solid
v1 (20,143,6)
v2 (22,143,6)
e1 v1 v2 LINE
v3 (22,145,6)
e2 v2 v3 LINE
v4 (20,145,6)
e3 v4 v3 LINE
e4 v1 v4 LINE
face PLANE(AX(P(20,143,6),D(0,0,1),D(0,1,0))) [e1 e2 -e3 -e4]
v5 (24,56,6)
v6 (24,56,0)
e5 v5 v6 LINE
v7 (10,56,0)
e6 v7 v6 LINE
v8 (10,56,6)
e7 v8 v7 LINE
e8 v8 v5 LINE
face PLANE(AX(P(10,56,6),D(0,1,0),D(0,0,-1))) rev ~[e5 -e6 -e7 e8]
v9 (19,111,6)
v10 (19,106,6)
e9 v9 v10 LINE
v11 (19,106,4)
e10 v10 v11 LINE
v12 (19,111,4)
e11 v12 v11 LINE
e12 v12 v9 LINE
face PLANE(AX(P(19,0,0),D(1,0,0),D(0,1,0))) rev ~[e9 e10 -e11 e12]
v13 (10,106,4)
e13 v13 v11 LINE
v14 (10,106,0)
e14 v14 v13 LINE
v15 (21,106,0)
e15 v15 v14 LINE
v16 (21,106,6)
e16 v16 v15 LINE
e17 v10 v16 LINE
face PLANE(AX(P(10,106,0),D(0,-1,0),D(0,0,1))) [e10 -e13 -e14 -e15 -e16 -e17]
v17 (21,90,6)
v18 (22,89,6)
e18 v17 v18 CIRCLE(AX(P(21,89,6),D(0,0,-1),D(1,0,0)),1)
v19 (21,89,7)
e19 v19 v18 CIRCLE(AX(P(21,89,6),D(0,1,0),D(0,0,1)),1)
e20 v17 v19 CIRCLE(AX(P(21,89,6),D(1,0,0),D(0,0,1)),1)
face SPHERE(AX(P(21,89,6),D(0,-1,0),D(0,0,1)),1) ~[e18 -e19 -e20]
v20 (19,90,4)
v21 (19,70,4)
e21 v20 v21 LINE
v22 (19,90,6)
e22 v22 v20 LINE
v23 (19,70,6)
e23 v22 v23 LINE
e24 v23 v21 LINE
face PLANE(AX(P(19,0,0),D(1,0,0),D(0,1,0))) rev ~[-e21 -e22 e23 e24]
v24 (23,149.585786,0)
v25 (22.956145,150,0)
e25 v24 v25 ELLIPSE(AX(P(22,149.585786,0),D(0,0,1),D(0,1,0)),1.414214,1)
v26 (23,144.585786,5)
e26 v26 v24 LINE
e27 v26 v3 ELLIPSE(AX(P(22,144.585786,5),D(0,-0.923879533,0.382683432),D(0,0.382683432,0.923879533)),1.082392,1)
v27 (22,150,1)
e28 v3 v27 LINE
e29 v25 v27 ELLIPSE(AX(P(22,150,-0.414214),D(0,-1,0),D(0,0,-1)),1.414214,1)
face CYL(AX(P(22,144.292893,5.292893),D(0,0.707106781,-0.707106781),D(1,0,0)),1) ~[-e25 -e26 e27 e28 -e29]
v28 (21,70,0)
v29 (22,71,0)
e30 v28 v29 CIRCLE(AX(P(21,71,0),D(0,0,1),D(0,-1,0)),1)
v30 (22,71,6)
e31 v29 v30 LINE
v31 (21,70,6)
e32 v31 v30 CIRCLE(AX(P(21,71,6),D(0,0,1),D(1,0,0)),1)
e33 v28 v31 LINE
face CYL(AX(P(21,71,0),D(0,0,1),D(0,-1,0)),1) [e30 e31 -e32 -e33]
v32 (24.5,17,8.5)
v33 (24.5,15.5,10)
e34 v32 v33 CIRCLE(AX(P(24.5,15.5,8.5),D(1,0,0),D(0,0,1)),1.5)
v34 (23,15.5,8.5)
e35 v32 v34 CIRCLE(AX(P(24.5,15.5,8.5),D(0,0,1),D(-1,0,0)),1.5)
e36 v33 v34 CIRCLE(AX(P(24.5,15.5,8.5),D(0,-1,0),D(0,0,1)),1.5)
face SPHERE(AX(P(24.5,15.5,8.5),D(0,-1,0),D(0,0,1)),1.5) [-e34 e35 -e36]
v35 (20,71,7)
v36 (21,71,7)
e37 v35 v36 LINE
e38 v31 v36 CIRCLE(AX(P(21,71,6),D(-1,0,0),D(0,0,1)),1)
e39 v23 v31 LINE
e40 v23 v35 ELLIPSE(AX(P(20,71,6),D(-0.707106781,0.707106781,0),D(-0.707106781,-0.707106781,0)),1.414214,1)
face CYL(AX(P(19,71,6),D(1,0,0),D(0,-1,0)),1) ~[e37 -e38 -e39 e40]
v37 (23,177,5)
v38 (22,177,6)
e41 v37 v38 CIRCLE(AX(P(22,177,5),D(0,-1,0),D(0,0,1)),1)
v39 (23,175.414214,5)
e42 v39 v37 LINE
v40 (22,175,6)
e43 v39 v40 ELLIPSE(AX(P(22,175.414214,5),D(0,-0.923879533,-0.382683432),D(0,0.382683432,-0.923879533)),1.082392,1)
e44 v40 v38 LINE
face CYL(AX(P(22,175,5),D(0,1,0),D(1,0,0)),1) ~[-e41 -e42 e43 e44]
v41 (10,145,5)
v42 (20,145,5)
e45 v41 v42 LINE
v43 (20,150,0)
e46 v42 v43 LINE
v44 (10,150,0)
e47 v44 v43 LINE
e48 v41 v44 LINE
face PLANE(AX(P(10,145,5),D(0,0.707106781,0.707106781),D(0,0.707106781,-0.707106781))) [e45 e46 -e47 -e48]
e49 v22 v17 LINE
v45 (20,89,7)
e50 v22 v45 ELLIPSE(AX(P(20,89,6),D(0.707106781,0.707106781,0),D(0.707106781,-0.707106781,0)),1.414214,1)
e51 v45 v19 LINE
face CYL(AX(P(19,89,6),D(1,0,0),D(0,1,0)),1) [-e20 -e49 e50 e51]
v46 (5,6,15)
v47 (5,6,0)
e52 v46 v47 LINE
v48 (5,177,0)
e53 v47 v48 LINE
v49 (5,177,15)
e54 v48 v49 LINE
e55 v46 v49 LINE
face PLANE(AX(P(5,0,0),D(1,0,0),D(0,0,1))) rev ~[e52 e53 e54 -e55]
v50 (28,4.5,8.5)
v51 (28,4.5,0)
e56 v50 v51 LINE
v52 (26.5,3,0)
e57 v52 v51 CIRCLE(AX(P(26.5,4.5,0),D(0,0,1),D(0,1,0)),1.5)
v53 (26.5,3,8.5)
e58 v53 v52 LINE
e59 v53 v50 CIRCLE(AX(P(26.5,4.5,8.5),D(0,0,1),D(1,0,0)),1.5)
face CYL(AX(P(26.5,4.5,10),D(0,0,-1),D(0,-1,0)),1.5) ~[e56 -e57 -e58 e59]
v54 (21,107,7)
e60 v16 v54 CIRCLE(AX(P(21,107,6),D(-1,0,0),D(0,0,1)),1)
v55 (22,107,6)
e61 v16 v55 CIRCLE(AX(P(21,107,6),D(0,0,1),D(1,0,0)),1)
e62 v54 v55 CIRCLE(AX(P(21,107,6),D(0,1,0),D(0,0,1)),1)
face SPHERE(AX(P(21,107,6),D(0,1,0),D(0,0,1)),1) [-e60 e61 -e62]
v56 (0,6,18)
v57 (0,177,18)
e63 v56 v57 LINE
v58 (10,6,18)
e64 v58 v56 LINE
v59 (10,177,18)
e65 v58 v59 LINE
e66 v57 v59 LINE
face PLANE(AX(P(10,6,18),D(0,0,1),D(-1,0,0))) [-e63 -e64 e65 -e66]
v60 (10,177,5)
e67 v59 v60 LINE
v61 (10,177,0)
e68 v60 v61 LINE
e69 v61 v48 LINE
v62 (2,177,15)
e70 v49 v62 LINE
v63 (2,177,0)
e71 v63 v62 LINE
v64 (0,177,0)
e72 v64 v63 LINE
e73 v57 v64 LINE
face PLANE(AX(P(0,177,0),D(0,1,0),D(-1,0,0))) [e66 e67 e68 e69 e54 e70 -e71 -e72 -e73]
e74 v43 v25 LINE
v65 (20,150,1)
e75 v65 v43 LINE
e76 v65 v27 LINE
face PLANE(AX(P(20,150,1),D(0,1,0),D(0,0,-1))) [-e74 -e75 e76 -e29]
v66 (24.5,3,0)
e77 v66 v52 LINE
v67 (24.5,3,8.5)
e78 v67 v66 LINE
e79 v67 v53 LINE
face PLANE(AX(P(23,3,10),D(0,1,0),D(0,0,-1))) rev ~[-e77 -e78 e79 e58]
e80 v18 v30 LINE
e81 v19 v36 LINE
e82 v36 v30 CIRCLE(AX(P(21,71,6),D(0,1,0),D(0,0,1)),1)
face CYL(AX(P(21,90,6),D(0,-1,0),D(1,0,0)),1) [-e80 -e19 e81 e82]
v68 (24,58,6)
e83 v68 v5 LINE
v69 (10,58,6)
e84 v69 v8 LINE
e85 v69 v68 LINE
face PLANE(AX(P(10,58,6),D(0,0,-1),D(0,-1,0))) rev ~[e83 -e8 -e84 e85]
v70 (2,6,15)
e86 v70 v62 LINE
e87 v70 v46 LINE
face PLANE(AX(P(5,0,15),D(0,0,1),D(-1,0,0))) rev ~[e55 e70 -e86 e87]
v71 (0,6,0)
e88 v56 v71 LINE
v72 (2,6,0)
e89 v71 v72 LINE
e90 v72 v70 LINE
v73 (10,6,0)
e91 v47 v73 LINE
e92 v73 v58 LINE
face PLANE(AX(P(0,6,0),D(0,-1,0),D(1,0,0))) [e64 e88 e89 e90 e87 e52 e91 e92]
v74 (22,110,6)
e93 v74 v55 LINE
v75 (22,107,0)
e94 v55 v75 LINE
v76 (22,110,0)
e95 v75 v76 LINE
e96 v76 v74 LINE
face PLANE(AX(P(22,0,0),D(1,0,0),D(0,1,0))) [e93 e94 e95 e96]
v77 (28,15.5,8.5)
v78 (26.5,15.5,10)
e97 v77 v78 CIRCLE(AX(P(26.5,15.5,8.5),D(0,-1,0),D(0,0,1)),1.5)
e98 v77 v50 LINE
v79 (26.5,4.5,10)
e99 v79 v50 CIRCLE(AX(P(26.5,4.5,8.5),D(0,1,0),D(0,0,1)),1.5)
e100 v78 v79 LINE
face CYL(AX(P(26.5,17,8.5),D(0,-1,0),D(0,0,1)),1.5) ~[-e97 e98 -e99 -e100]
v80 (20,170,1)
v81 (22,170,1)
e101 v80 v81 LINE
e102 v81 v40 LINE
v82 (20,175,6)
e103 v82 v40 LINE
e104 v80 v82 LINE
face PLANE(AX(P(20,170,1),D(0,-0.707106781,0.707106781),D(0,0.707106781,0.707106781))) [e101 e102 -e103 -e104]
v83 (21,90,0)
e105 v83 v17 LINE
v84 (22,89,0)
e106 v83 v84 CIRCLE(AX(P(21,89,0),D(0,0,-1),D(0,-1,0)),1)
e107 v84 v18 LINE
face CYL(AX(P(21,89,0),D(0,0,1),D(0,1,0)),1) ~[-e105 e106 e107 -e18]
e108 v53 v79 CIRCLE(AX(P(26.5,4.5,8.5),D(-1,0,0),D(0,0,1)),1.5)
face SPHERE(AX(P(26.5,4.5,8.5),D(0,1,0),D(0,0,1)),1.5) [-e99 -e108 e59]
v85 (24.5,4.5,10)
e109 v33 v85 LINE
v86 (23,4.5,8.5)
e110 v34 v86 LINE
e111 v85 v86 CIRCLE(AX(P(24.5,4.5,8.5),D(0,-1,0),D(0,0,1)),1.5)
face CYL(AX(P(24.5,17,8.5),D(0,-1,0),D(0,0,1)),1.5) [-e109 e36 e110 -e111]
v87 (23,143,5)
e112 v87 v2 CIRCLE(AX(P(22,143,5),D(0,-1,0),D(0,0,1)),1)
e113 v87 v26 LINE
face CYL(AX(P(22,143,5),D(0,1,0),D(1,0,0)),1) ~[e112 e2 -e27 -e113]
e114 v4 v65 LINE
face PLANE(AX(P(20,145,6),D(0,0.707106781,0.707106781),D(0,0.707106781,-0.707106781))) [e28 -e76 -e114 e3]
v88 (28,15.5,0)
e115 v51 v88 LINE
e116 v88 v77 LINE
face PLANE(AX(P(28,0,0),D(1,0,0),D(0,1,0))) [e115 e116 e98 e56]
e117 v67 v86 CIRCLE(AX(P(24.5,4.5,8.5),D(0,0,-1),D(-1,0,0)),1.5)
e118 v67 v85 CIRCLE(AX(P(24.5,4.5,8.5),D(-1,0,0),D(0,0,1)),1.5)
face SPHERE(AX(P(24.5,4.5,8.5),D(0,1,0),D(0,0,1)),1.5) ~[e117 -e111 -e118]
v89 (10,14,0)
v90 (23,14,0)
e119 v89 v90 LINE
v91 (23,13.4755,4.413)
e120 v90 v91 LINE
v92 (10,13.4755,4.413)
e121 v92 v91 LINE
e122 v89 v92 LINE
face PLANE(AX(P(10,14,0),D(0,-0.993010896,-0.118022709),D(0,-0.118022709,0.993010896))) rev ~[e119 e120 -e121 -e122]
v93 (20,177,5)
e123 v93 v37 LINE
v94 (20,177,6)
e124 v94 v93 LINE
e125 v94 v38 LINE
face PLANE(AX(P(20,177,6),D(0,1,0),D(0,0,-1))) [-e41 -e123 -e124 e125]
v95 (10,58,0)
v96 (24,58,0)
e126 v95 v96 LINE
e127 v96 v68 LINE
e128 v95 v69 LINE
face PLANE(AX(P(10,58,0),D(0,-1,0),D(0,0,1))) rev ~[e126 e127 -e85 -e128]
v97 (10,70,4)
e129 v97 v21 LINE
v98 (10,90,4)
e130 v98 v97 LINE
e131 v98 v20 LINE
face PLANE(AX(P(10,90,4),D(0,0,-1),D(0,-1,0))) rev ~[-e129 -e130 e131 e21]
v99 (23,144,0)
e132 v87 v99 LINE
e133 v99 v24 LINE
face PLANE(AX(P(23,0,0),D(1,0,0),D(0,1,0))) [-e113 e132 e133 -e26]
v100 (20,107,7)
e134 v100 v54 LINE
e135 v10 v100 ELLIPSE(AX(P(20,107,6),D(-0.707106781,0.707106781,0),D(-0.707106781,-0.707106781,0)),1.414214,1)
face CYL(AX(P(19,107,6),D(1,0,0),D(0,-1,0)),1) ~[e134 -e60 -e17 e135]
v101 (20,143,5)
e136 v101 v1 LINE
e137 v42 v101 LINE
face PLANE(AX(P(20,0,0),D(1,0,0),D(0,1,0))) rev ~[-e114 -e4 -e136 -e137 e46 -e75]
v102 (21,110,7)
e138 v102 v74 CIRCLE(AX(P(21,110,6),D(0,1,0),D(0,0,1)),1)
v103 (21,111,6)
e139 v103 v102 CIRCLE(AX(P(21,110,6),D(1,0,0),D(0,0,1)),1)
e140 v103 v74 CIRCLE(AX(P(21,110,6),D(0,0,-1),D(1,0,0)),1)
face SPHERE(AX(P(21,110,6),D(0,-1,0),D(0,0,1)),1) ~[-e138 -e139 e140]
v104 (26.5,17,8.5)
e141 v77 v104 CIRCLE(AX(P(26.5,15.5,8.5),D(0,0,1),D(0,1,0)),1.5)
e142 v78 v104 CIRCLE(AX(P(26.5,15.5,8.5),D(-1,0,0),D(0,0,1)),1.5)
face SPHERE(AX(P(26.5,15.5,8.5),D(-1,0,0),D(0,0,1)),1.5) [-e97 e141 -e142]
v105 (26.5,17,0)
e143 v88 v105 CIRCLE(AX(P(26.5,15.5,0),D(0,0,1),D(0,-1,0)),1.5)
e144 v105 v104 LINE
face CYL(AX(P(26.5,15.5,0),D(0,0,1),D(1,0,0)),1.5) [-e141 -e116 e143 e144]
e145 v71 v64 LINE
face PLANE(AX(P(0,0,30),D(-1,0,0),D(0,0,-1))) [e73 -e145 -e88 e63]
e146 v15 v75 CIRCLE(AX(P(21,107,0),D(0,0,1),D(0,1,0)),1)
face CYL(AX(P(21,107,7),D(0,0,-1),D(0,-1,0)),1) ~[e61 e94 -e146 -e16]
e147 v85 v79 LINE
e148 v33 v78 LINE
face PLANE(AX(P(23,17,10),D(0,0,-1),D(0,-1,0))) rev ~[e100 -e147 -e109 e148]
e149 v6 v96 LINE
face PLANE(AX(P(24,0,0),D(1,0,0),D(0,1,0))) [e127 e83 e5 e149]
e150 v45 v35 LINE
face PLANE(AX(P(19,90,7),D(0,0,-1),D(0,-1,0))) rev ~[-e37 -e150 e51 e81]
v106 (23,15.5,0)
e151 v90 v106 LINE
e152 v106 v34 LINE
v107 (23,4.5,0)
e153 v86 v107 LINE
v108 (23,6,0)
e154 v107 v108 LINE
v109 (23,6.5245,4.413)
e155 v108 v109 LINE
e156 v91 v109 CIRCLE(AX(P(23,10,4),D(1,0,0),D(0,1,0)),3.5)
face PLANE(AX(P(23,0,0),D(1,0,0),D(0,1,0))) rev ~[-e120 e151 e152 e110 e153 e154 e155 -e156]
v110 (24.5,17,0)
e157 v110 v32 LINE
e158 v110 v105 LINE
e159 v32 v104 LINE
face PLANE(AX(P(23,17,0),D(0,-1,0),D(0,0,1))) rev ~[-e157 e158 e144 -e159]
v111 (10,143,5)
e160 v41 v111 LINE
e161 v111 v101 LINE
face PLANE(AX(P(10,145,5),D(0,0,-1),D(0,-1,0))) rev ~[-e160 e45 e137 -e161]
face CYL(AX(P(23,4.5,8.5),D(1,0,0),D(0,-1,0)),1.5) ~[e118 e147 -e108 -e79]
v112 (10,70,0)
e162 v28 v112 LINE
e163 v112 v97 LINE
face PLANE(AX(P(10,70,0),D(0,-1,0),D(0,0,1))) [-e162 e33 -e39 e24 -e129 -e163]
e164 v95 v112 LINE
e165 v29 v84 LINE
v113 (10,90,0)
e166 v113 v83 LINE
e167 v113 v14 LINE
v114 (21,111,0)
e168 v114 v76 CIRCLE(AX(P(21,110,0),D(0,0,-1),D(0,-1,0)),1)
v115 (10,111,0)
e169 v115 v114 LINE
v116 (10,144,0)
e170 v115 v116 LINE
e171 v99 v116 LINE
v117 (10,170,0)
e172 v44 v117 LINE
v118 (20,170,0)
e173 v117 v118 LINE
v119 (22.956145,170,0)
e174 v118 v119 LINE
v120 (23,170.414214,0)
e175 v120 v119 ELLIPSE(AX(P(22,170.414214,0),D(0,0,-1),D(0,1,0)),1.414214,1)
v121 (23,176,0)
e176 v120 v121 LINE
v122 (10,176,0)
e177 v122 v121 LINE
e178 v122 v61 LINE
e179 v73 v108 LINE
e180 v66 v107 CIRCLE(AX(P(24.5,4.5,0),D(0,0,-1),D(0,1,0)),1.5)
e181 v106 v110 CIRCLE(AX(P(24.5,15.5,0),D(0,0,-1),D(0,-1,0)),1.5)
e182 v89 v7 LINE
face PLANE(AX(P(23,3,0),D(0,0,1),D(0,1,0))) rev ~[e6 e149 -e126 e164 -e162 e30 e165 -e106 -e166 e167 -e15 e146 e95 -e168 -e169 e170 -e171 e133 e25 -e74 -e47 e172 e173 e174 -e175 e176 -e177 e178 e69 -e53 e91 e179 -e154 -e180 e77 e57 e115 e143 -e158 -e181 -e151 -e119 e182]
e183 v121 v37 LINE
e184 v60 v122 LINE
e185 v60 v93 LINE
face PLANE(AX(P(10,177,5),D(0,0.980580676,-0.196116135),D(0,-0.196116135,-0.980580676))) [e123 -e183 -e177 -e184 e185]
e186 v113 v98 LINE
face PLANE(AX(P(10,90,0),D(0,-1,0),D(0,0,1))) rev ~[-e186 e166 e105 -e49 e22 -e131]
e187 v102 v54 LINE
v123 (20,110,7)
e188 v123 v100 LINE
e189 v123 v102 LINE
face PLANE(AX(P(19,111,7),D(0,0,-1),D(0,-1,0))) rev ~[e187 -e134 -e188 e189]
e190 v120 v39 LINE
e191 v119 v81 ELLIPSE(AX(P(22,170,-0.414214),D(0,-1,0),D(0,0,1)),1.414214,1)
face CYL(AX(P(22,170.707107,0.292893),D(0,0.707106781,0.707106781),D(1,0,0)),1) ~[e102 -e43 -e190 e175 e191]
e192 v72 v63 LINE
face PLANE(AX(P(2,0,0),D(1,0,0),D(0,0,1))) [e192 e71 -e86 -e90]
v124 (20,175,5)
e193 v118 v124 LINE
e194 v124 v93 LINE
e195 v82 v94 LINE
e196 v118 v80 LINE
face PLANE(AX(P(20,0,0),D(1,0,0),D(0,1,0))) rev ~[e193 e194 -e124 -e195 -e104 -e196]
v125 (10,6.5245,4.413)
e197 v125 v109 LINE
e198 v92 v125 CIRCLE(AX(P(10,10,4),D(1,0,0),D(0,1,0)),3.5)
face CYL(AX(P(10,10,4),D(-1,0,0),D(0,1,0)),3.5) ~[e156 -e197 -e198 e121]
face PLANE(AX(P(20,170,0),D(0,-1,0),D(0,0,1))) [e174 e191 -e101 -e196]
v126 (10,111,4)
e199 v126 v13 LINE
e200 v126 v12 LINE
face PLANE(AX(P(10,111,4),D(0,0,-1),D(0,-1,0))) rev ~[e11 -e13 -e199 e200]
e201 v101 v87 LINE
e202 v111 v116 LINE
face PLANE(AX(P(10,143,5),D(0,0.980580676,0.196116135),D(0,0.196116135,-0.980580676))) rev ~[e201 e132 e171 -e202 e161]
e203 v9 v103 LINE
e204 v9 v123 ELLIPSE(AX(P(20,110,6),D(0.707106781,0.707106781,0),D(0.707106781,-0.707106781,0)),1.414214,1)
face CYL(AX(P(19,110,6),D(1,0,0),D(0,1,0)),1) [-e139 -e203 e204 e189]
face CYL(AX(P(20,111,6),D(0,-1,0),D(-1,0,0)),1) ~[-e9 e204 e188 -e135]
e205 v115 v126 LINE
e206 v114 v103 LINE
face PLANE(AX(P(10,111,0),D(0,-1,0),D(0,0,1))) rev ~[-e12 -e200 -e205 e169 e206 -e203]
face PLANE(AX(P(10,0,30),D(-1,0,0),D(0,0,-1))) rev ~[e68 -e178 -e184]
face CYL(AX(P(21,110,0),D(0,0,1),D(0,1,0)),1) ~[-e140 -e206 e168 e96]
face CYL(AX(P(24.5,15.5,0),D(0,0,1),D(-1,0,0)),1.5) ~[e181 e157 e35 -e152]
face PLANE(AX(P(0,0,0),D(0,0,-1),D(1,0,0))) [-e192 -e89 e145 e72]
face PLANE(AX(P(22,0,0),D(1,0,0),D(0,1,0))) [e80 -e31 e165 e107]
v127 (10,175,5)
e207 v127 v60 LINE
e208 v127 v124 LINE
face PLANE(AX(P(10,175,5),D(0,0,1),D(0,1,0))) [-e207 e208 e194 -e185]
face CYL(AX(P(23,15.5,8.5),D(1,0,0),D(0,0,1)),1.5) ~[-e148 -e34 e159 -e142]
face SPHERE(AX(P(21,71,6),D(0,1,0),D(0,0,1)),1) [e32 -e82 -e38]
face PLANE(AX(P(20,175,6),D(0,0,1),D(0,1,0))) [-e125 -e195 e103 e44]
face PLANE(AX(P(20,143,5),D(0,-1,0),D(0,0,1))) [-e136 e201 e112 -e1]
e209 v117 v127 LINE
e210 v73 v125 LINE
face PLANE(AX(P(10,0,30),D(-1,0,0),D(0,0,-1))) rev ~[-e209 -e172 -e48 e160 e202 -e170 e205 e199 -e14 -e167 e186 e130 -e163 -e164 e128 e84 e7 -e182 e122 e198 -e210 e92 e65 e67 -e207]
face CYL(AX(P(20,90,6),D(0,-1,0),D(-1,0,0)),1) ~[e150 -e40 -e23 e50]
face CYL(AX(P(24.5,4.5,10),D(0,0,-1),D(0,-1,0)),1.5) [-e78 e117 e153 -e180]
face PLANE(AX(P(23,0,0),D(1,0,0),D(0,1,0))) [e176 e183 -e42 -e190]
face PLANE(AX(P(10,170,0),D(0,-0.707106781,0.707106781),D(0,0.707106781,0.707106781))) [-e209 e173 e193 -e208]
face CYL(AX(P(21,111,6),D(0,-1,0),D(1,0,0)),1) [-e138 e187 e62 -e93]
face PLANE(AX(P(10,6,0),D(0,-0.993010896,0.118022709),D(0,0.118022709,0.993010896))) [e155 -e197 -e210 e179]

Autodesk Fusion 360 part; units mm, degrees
sketch "Schizzo2" plane through (0, 0, 0) normal (0, 1, 0) x (1, 0, 0)
  line L0 (0, 0) -> (2, 0)
  line L1 (2, 0) -> (2, -30)
  line L2 (2, -30) -> (0, -30)
  line L3 (0, -30) -> (0, 0)
  line L4 (2, -30) -> (5, -30)
  line L5 (5, -30) -> (5, -15)
  line L6 (5, -15) -> (2, -15)
  line L7 (2, -15) -> (2, -30)
  line L8 (5, -30) -> (10, -30)
  line L9 (10, -30) -> (10, 0)
  line L10 (10, 0) -> (5, 0)
  line L11 (5, 0) -> (5, -30)
  dimension "d1" = 2
  dimension "d2" = 30
  dimension "d3" = 3
  dimension "d4" = 30
  dimension "d5" = 5
  dimension "d44" = 15
extrude "Estrusione1" add sketch "Schizzo2" along normal blind 200
sketch "Schizzo3" plane through (10, 0, 0) normal (1, 0, 0) x (0, 1, 0)
  line L0 (0, 30) -> (0, 0)
  line L1 (0, 0) -> (200, 0)
  line L2 (200, 0) -> (200, 30)
  line L3 (200, 30) -> (0, 30)
  line L4 (0, 30) -> (10, 30)
  circle A0 centre (10, 4) radius 3.5
  line L5 (6, 0) -> (6.5245, 4.413)
  line L6 (14, 0) -> (13.4755, 4.413)
  line L7 (6, 0) -> (14, 0)
  dimension "d8" = 7
extrude "Estrusione2" add sketch "Schizzo3" along normal blind 13 contours L1 A0 L5 L6 L7 | A0
sketch "Schizzo4" plane through (23, 0, 0) normal (1, 0, 0) x (0, 1, 0)
  line L0 (3, 0) -> (17, 0)
  line L1 (17, 0) -> (17, 10)
  line L2 (17, 10) -> (3, 10)
  line L3 (3, 10) -> (3, 0)
extrude "Estrusione4" add sketch "Schizzo4" along normal blind 5
fillet "Raccordo3" radius 1.5 8 edges at (23, 10, 10) (25.5, 17, 10) (28, 10, 10) (25.5, 3, 10) (28, 3, 5) (23, 3, 5) (28, 17, 5) (23, 17, 5)
sketch "Schizzo5" plane through (10, 0, 0) normal (1, 0, 0) x (0, 1, 0)
  line L0 (13.4755, 4.413) -> (14, 0)
  line L1 (14, 0) -> (200, 0)
  line L2 (200, 0) -> (200, 30)
  line L3 (200, 30) -> (0, 30)
  line L4 (0, 30) -> (0, 0)
  line L5 (0, 0) -> (6, 0)
  line L6 (6, 0) -> (6.5245, 4.413)
  arc A0 (13.4755, 4.413) -> (6.5245, 4.413) centre (10, 4) ccw
sketch "Schizzo6" plane through (10, 0, 0) normal (1, 0, 0) x (0, 1, 0)
  line L0 (70, 0) -> (70, 4)
  line L1 (70, 0) -> (90, 0)
  line L2 (90, 0) -> (106, 0)
  line L3 (106, 0) -> (111, 0)
  line L4 (111, 0) -> (111, 4)
  line L5 (90, 0) -> (90, 4)
  line L6 (106, 0) -> (106, 4)
  line L7 (111, 4) -> (106, 4)
  line L8 (90, 4) -> (70, 4)
  dimension "d22" = 20
  dimension "d23" = 16
  dimension "d24" = 5
extrude "Estrusione5" add sketch "Schizzo6" along normal blind 9
sketch "Schizzo7" plane through (19, 0, 0) normal (1, 0, 0) x (0, 1, 0)
  line L0 (70, 0) -> (90, 0)
  line L1 (90, 0) -> (90, 4)
  line L2 (90, 4) -> (70, 4)
  line L3 (70, 4) -> (70, 0)
  line L4 (70, 0) -> (90, 0)
  line L5 (90, 0) -> (90, 7)
  line L6 (90, 7) -> (70, 7)
  line L7 (70, 7) -> (70, 0)
  line L8 (106, 0) -> (111, 0)
  line L9 (111, 0) -> (111, 7)
  line L10 (111, 7) -> (106, 7)
  line L11 (106, 7) -> (106, 0)
extrude "Estrusione6" add sketch "Schizzo7" along normal blind 3
fillet "Raccordo4" radius 1 12 edges at (19, 108.5, 7) (22, 108.5, 7) (22, 80, 7) (19, 80, 7) (20.5, 90, 7) (20.5, 106, 7) (20.5, 111, 7) (22, 106, 3.5) (22, 111, 3.5) (22, 90, 3.5) (20.5, 70, 7) (22, 70, 3.5)
sketch "Schizzo8" plane through (10, 0, 0) normal (1, 0, 0) x (0, 1, 0)
  line L0 (150, 0) -> (150, 10)
  line L1 (150, 0) -> (170, 0)
  line L2 (170, 0) -> (175, 5)
  line L3 (145, 5) -> (150, 0)
  line L4 (145, 5) -> (143, 5)
  line L5 (148, 0) -> (150, 0)
  line L6 (175, 5) -> (177, 5)
  line L7 (170, 0) -> (172, 0)
  line L8 (143, 5) -> (144, 0)
  line L9 (144, 0) -> (148, 0)
  line L10 (177, 5) -> (176, 0)
  line L11 (176, 0) -> (172, 0)
  dimension "d31" = 20
extrude "Estrusione8" add sketch "Schizzo8" along normal blind 10
sketch "Schizzo9" plane through (20, 0, 0) normal (1, 0, 0) x (0, 1, 0)
  line L0 (170, 0) -> (176, 0)
  line L1 (176, 0) -> (177, 5)
  line L2 (177, 5) -> (175, 5)
  line L3 (175, 5) -> (170, 0)
  line L4 (143, 5) -> (143, 6)
  line L5 (143, 6) -> (145, 6)
  line L6 (145, 6) -> (150, 1)
  line L7 (150, 1) -> (150, 0)
  line L8 (143, 5) -> (144, 0)
  line L9 (144, 0) -> (150, 0)
  line L10 (170, 0) -> (170, 1)
  line L11 (170, 1) -> (175, 6)
  line L12 (175, 6) -> (177, 6)
  line L13 (177, 6) -> (177, 5)
  line L14 (176, 0) -> (177, 5)
  line L15 (170, 0) -> (176, 0)
extrude "Estrusione9" add sketch "Schizzo9" along normal blind 3
fillet "Raccordo5" radius 1 4 edges at (23, 144, 6) (23, 147.5, 3.5) (23, 176, 6) (23, 172.5, 3.5)
sketch "Schizzo10" plane through (0, 200, 0) normal (0, 1, 0) x (-1, 0, 0)
  line L0 (0, 30) -> (-10, 30)
  line L1 (-10, 30) -> (-10, 0)
  line L2 (-10, 0) -> (-5, 0)
  line L3 (-5, 0) -> (-5, 15)
  line L4 (-5, 15) -> (-2, 15)
  line L5 (-2, 15) -> (-2, 0)
  line L6 (-2, 0) -> (0, 0)
  line L7 (0, 0) -> (0, 30)
  line L8 (-12, 31) -> (4, 31)
  line L9 (4, 31) -> (4, -5)
  line L10 (4, -5) -> (-12, -5)
  line L11 (-12, -5) -> (-12, 31)
extrude "Estrusione10" cut sketch "Schizzo10" against normal blind 23 contours L0 L1 L2 L3 L4 L5 L6 L7 | L8 L9 L10 L11
sketch "Schizzo11" plane through (0, 0, 0) normal (0, -1, 0) x (1, 0, 0)
  line L0 (10, 30) -> (0, 30)
  line L1 (0, 30) -> (0, 0)
  line L2 (0, 0) -> (2, 0)
  line L3 (2, 0) -> (2, 15)
  line L4 (2, 15) -> (5, 15)
  line L5 (5, 15) -> (5, 0)
  line L6 (5, 0) -> (10, 0)
  line L7 (10, 0) -> (10, 30)
  line L8 (-2, 31) -> (12, 31)
  line L9 (12, 31) -> (12, -1)
  line L10 (12, -1) -> (-2, -1)
  line L11 (-2, -1) -> (-2, 31)
extrude "Estrusione11" cut sketch "Schizzo11" against normal blind 6 contours L0 L1 L2 L3 L4 L5 L6 L7
sketch "Schizzo12" plane through (0, 6, 0) normal (0, -1, 0) x (1, 0, 0)
  line L0 (10, 0) -> (10, 30)
  line L1 (10, 30) -> (0, 30)
  line L2 (0, 30) -> (0, 0)
  line L3 (0, 0) -> (2, 0)
  line L4 (2, 0) -> (2, 15)
  line L5 (2, 15) -> (5, 15)
  line L6 (5, 15) -> (5, 0)
  line L7 (5, 0) -> (10, 0)
  line L8 (-2, 31) -> (11, 31)
  line L9 (11, 31) -> (11, 18)
  line L10 (11, 18) -> (-2, 18)
  line L11 (-2, 18) -> (-2, 31)
  dimension "d45" = 13
extrude "Estrusione12" cut sketch "Schizzo12" against normal blind 175 contours L0 L1 L2 L10
sketch "Schizzo13" plane through (0, 0, 0) normal (-1, 0, 0) x (0, -1, 0)
  line L0 (-6, 18) -> (-177, 18)
  line L1 (-177, 18) -> (-177, 0)
  line L2 (-177, 0) -> (-6, 0)
  line L3 (-6, 0) -> (-6, 18)
  line L4 (-177, 18) -> (-6, 18)
  line L5 (-6, 18) -> (-6, 0)
  line L6 (-6, 0) -> (-177, 0)
  line L7 (-177, 0) -> (-177, 18)
sketch "Schizzo14" plane through (10, 0, 0) normal (1, 0, 0) x (0, 1, 0)
  line L0 (56, 0) -> (58, 0)
  line L1 (58, 0) -> (58, 6)
  line L2 (58, 6) -> (56, 6)
  line L3 (56, 6) -> (56, 0)
  line L4 (70, 6) -> (70, 0)
  dimension "d48" = 12
  dimension "d49" = 2
  dimension "d50" = 6
extrude "Estrusione13" add sketch "Schizzo14" along normal blind 14
